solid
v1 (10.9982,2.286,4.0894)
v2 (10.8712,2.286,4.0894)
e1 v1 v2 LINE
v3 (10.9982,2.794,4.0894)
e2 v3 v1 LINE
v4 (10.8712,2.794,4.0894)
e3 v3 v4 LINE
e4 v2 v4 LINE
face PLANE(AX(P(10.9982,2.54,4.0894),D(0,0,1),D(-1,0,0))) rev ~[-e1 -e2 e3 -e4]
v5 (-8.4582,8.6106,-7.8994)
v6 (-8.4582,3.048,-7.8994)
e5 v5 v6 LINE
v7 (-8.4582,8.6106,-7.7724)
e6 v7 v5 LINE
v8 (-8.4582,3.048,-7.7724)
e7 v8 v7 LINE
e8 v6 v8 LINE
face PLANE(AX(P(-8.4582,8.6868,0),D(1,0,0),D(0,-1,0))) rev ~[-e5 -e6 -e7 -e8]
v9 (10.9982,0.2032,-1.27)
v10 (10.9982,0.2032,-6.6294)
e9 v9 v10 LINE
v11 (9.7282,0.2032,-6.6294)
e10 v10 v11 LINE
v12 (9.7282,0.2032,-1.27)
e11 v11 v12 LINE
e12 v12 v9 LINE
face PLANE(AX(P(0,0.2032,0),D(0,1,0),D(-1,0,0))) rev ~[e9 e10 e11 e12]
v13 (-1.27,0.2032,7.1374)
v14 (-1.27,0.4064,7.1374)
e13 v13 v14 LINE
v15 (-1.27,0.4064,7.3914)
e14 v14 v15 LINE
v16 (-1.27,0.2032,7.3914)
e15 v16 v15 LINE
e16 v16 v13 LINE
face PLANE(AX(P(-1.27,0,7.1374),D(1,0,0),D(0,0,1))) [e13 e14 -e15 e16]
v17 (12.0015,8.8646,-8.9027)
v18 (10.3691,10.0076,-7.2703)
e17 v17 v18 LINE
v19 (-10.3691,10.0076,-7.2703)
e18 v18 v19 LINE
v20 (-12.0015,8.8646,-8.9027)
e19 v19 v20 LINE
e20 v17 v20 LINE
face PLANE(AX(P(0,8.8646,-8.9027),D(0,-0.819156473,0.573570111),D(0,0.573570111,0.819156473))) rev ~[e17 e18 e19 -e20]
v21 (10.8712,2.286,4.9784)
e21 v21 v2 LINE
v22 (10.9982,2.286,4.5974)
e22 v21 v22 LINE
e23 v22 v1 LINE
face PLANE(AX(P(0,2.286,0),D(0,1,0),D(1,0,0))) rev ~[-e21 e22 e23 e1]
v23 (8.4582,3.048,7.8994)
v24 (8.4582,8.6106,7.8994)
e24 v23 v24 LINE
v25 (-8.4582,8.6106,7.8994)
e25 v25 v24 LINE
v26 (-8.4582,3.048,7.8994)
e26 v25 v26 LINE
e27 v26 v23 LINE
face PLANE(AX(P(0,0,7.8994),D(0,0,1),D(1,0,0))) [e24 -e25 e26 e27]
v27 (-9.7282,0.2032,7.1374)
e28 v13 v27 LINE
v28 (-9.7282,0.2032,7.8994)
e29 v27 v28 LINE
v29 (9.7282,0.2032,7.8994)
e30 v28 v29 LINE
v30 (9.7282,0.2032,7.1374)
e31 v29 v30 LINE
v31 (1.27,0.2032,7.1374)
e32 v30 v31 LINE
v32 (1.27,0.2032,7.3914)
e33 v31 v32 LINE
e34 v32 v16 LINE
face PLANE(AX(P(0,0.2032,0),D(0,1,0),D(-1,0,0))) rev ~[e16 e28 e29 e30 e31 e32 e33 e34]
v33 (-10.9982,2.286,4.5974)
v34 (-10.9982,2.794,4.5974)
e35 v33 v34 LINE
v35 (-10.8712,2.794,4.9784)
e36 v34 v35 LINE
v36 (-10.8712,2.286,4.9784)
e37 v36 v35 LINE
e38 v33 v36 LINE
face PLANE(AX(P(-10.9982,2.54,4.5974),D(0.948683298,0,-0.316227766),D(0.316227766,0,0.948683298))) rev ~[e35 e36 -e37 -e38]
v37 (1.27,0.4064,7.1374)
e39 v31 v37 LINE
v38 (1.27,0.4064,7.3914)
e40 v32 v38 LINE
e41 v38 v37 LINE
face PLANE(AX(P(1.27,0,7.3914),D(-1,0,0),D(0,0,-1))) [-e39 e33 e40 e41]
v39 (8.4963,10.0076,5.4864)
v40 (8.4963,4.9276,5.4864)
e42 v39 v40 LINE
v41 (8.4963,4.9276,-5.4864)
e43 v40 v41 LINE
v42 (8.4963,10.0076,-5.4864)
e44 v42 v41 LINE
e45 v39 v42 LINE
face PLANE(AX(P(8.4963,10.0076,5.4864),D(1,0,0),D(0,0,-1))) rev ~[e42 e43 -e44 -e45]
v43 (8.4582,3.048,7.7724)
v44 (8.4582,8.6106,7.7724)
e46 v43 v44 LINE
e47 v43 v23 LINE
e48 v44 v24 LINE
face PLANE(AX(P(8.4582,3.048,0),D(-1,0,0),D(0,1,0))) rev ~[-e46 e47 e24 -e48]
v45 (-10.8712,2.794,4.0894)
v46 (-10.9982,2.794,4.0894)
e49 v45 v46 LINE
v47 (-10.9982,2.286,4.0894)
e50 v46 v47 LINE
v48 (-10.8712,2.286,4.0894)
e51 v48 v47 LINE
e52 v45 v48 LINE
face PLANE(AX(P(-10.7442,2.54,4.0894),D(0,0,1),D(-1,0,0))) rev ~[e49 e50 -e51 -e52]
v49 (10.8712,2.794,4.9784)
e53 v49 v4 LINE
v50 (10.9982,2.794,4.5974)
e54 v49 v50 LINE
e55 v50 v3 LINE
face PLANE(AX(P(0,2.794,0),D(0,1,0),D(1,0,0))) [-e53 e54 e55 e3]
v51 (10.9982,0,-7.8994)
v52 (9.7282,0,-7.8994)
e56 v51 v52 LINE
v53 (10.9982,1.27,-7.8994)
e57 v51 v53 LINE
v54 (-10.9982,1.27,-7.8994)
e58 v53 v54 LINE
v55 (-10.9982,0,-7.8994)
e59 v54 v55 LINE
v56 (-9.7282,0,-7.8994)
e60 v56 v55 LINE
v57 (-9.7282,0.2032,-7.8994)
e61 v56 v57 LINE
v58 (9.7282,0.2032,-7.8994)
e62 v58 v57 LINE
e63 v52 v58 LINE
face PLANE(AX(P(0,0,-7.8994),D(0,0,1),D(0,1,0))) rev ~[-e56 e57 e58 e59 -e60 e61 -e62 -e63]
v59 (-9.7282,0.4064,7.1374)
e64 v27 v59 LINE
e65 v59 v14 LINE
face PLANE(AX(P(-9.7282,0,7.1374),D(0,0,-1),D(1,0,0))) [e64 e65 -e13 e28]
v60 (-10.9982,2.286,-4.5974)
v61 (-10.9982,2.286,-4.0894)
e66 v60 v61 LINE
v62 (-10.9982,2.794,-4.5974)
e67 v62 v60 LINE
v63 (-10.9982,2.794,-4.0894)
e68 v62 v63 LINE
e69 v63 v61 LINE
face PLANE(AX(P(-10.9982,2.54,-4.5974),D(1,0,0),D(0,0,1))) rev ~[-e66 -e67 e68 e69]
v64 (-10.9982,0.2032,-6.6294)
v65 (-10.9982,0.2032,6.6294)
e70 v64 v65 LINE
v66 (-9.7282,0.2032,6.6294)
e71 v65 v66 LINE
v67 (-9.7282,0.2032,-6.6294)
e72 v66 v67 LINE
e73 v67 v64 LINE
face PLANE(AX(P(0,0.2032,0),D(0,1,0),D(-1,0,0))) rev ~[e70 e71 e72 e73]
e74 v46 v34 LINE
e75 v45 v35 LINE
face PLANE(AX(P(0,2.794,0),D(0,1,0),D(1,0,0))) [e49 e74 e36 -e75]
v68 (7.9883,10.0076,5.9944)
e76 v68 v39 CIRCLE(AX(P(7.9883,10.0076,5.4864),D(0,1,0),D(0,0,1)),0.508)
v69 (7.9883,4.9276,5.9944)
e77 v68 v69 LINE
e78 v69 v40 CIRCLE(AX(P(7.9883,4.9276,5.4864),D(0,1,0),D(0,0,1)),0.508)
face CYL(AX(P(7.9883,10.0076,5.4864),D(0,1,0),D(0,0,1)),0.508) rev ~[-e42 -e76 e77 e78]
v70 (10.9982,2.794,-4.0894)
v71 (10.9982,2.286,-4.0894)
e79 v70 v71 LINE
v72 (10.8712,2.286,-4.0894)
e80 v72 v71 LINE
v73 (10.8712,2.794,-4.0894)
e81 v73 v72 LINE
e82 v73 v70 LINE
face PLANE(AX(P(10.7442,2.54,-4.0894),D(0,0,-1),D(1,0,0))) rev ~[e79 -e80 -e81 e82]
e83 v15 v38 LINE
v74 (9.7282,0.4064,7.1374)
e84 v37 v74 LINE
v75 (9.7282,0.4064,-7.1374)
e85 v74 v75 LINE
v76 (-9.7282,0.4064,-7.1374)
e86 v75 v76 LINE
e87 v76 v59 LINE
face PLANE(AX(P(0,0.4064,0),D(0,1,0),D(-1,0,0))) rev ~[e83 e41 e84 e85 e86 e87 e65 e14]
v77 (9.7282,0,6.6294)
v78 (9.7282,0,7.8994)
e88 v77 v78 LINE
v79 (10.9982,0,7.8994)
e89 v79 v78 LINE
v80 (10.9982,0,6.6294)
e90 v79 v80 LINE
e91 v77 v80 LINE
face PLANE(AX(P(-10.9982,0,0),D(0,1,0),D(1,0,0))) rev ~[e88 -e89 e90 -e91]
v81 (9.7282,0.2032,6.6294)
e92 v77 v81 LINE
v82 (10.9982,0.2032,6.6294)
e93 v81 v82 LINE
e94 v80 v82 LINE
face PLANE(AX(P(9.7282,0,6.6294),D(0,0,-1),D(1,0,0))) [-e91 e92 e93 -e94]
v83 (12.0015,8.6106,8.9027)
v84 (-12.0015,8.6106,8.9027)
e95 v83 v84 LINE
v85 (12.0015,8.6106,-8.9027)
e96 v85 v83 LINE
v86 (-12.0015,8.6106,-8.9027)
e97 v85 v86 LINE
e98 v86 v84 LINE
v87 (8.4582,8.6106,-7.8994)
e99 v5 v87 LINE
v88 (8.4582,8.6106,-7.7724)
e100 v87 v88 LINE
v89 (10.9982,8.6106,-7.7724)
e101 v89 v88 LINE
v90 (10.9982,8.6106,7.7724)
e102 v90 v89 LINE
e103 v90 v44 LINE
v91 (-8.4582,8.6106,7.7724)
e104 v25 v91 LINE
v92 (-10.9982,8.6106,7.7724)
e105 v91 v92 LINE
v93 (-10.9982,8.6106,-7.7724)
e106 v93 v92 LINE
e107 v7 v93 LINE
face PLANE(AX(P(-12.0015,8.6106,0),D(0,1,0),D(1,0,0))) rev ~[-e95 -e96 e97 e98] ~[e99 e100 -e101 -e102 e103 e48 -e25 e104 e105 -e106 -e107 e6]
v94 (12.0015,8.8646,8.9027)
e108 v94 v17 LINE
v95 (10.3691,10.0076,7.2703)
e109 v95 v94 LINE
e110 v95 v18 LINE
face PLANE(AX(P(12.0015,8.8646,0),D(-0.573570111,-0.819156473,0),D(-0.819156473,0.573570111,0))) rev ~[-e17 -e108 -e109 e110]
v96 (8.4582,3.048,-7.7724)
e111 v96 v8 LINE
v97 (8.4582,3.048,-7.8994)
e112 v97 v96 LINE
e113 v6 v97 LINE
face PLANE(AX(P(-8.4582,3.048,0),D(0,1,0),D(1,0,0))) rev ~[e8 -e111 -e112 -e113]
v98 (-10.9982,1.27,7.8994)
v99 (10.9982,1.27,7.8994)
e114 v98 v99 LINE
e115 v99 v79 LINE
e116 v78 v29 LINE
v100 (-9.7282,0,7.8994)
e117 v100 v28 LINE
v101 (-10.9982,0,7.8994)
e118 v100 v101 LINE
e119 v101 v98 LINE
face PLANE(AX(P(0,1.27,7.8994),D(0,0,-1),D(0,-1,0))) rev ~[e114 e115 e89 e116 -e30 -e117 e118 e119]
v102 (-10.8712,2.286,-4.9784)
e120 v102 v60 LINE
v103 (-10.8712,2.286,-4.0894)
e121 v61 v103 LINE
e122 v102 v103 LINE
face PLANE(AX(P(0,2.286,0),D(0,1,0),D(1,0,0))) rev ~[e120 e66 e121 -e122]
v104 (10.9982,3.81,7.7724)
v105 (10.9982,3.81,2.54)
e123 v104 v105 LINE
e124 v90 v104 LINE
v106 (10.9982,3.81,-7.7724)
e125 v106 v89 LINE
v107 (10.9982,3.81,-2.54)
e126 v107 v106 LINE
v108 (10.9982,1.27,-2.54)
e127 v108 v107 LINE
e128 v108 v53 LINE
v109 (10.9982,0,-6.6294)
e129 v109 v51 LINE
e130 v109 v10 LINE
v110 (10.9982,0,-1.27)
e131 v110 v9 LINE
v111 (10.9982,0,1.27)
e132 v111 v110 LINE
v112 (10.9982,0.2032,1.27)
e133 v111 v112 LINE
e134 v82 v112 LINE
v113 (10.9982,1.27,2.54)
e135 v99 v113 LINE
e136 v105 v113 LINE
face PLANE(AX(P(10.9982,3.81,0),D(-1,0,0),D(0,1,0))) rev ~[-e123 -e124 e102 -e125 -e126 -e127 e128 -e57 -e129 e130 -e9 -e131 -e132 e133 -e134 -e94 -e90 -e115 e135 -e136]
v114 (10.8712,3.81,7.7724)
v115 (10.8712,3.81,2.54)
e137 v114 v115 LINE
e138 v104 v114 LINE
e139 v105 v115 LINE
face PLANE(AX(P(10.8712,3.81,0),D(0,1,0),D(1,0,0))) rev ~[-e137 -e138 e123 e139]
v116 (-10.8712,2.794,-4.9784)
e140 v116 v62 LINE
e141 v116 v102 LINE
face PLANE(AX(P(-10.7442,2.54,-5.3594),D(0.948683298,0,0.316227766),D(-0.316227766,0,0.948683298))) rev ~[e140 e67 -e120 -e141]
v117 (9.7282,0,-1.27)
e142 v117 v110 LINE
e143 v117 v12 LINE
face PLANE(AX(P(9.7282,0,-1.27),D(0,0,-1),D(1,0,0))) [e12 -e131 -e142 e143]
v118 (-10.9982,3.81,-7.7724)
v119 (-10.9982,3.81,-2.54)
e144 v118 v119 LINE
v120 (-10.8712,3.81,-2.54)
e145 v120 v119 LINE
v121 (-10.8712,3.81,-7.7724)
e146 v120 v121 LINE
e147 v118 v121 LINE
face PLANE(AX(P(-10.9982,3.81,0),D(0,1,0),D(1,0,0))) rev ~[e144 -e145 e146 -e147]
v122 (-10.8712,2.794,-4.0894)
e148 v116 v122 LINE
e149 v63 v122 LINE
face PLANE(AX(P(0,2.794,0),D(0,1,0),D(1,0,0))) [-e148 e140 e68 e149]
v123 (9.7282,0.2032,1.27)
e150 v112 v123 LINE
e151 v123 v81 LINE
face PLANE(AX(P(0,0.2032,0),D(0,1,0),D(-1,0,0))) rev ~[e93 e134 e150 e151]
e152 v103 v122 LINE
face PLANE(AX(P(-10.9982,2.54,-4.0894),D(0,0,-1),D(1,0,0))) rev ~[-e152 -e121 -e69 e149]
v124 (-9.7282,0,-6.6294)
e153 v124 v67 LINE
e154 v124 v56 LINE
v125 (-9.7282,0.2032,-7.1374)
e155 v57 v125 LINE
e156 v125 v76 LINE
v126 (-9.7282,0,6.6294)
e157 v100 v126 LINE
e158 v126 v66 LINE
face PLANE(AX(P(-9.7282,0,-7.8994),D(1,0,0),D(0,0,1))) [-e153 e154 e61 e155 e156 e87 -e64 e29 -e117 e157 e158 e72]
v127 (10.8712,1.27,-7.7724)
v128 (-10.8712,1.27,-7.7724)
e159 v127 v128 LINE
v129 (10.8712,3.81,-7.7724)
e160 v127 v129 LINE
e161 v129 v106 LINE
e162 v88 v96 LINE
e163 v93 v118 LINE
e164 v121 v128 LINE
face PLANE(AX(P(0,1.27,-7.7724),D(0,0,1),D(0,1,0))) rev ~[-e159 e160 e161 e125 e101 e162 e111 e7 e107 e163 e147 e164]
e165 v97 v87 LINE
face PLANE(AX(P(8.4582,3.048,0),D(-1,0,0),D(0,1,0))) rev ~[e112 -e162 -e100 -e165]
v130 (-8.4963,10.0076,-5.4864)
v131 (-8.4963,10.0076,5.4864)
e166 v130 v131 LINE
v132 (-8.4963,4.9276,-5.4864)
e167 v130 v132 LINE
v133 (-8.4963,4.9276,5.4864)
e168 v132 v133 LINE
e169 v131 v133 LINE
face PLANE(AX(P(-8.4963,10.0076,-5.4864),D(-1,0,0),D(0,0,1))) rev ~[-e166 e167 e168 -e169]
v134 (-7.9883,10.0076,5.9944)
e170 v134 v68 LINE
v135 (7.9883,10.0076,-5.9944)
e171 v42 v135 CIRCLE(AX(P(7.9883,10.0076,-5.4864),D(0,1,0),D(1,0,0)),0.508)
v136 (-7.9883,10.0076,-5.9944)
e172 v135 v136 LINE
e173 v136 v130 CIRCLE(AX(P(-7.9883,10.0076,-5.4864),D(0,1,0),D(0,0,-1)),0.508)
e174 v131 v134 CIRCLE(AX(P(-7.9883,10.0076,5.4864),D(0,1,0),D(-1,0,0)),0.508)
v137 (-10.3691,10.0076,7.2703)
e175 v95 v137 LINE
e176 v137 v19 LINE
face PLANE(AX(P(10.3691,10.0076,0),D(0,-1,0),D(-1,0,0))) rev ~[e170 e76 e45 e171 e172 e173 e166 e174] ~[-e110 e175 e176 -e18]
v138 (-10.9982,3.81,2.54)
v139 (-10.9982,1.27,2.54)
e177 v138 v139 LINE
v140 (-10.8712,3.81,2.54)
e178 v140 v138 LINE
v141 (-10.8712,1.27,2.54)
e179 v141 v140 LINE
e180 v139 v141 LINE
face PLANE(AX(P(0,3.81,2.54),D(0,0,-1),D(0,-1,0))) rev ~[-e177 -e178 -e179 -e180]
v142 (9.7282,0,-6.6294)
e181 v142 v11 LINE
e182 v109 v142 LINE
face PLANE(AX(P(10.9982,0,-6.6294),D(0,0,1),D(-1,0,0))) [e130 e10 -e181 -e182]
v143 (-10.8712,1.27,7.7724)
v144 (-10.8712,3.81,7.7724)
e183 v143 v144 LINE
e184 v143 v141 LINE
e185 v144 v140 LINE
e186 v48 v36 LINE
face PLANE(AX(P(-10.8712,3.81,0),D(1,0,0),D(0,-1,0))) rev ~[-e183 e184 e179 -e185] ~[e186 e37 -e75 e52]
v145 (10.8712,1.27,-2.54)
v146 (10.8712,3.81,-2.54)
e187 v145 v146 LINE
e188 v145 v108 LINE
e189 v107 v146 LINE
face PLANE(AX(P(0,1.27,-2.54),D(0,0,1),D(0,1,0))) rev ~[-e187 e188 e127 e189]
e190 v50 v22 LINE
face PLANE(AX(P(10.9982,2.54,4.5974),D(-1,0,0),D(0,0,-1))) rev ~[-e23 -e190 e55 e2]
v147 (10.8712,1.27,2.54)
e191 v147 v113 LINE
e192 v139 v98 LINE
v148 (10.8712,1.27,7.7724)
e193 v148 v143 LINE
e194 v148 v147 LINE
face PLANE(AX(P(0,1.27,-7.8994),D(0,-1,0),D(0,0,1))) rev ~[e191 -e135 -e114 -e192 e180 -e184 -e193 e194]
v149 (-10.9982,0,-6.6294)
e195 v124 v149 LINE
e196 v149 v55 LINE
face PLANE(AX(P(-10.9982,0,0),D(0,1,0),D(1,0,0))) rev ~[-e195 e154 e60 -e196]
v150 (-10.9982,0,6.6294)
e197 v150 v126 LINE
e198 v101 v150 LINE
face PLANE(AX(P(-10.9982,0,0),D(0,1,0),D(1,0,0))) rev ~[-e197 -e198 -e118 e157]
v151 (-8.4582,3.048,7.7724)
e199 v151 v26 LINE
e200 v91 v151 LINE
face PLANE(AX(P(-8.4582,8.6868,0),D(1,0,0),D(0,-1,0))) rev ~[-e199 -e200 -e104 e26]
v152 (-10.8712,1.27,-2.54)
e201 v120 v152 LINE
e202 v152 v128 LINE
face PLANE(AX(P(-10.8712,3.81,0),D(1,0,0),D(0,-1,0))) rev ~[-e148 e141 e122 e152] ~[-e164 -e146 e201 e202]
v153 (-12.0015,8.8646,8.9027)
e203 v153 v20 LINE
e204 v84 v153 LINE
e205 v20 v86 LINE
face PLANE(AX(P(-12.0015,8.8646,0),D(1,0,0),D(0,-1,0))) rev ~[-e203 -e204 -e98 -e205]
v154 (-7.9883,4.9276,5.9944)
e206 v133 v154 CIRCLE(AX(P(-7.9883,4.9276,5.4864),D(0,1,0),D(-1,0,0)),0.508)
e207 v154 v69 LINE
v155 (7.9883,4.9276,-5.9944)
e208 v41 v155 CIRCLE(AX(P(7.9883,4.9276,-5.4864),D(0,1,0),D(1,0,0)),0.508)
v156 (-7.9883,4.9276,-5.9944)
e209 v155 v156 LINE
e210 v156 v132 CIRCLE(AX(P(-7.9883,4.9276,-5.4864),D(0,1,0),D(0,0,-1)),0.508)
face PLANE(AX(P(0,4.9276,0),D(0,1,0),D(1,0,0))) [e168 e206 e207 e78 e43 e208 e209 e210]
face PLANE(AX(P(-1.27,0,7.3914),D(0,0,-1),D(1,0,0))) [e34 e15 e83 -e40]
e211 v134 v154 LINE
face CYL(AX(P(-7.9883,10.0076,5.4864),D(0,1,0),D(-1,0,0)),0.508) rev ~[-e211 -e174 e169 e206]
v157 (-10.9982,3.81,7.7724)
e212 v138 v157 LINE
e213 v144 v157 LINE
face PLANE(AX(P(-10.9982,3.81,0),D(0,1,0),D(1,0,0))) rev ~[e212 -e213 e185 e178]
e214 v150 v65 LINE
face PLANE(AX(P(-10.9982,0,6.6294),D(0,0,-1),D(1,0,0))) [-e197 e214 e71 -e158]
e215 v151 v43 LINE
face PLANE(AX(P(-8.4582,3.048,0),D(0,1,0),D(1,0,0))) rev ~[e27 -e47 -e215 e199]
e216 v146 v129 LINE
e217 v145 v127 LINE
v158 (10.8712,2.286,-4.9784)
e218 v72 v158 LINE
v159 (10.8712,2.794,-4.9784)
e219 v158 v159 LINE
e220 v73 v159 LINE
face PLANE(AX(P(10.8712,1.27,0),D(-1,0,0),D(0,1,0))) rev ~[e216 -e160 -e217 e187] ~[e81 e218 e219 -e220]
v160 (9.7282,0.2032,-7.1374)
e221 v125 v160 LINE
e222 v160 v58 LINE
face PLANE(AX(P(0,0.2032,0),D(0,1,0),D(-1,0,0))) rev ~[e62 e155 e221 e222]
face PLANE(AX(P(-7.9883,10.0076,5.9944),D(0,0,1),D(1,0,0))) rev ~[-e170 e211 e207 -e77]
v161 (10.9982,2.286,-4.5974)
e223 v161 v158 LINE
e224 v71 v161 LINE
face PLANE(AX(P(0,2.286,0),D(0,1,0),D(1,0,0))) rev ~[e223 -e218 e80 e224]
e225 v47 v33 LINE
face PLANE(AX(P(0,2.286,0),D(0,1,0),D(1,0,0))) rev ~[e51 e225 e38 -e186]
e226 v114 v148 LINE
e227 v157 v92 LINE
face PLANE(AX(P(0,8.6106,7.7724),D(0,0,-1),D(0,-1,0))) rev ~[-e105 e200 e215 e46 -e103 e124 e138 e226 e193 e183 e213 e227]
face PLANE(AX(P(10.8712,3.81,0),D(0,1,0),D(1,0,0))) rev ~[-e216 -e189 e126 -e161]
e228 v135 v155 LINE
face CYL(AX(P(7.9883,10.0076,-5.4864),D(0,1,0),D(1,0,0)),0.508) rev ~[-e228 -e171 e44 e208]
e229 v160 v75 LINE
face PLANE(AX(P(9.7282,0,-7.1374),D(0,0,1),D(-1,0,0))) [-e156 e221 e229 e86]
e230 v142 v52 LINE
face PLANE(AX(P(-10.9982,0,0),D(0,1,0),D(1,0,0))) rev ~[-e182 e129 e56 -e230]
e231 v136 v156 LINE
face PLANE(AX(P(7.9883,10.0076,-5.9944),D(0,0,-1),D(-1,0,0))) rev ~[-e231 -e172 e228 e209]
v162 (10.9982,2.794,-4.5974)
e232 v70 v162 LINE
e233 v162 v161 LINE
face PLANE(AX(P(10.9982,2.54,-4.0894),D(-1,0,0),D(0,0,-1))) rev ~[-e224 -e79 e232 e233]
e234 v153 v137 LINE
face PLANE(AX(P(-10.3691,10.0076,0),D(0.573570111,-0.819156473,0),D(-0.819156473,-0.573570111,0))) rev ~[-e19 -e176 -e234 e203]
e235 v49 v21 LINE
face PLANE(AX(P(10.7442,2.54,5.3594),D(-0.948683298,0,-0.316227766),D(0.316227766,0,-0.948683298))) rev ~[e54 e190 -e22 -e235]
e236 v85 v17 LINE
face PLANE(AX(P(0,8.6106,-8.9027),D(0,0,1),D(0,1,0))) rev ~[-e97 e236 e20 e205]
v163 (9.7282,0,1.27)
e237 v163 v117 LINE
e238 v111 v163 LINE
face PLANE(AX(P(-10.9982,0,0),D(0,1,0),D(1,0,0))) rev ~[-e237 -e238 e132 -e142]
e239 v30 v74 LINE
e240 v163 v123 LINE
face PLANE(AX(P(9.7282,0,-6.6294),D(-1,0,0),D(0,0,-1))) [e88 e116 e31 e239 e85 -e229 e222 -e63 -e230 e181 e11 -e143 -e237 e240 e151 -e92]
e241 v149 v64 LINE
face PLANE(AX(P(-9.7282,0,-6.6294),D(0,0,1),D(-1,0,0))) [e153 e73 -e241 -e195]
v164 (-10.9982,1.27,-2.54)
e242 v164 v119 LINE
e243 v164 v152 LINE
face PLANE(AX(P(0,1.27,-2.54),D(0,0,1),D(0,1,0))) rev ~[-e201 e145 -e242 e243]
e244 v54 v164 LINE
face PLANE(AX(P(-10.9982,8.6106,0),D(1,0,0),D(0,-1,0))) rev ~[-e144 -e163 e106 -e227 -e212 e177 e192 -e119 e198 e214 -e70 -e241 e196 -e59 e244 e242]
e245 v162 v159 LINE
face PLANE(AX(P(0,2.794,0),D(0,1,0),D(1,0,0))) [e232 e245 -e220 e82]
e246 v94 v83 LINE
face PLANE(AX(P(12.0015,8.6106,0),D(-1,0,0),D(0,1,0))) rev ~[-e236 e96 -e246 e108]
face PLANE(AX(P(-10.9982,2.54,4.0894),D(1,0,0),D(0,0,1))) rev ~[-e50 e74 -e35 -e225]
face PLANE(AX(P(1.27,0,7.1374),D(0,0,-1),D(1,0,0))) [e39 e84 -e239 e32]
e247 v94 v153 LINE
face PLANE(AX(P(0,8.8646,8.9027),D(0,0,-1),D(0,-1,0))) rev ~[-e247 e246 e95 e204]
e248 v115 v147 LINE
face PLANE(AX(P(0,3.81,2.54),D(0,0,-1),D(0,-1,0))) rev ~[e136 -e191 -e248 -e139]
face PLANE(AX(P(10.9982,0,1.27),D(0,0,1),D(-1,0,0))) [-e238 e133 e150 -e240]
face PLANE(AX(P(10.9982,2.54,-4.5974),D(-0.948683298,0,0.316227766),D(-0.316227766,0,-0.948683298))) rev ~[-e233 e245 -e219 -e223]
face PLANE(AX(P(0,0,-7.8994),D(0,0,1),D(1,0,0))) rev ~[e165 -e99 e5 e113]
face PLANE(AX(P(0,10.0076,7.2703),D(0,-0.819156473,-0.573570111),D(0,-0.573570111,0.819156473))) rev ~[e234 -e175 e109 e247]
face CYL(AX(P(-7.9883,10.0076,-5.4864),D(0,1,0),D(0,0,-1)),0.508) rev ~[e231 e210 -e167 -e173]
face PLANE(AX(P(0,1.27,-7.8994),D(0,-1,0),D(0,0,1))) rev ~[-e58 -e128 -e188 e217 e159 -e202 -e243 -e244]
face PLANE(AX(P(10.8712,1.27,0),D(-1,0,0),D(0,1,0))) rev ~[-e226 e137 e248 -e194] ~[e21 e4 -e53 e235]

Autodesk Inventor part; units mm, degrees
sketch "Sketch_2" plane through (0, 0, 0) normal (0, 0, 1) x (1, 0, 0)
  line L0 (-12.0015, 8.6106) -> (-10.9982, 8.6106)
  line L1 (-10.9982, 8.6106) -> (-10.9982, 3.81)
  line L2 (-10.9982, 3.81) -> (-10.8712, 3.81)
  line L3 (-10.8712, 3.81) -> (-10.8712, 1.27)
  line L4 (-10.8712, 1.27) -> (-10.9982, 1.27)
  line L5 (-10.9982, 1.27) -> (-10.9982, 0)
  line L6 (-10.9982, 0) -> (10.9982, 0)
  line L7 (10.9982, 0) -> (10.9982, 1.27)
  line L8 (10.9982, 1.27) -> (10.8712, 1.27)
  line L9 (10.8712, 1.27) -> (10.8712, 3.81)
  line L10 (10.8712, 3.81) -> (10.9982, 3.81)
  line L11 (10.9982, 3.81) -> (10.9982, 8.6106)
  line L12 (10.9982, 8.6106) -> (12.0015, 8.6106)
  line L13 (12.0015, 8.6106) -> (12.0015, 8.8646)
  line L14 (12.0015, 8.8646) -> (10.3691, 10.0076)
  line L15 (10.3691, 10.0076) -> (-10.3691, 10.0076)
  line L16 (-10.3691, 10.0076) -> (-12.0015, 8.8646)
  line L17 (-12.0015, 8.8646) -> (-12.0015, 8.6106)
extrude "Extrusion1" add sketch "Sketch_2" along normal mid plane 24.003
sketch "Sketch_1" plane through (0, 0, 0) normal (1, 0, 0) x (0, 1, 0)
  line L0 (12.7, 12.7) -> (-2.54, 12.7)
  line L1 (-2.54, 12.7) -> (-2.54, -12.7)
  line L2 (-2.54, -12.7) -> (12.7, -12.7)
  line L3 (12.7, -12.7) -> (12.7, 12.7)
  line L4 (8.6106, 8.9027) -> (8.6106, 7.7724)
  line L5 (8.6106, 7.7724) -> (1.27, 7.7724)
  line L6 (1.27, 7.7724) -> (1.27, 7.8994)
  line L7 (1.27, 7.8994) -> (0, 7.8994)
  line L8 (0, 7.8994) -> (0, -7.8994)
  line L9 (0, -7.8994) -> (1.27, -7.8994)
  line L10 (1.27, -7.8994) -> (1.27, -7.7724)
  line L11 (1.27, -7.7724) -> (8.6106, -7.7724)
  line L12 (8.6106, -7.7724) -> (8.6106, -8.9027)
  line L13 (8.6106, -8.9027) -> (8.8646, -8.9027)
  line L14 (8.8646, -8.9027) -> (10.0076, -7.2703)
  line L15 (10.0076, -7.2703) -> (10.0076, 7.2703)
  line L16 (10.0076, 7.2703) -> (8.8646, 8.9027)
  line L17 (8.8646, 8.9027) -> (8.6106, 8.9027)
extrude "Extrusion2" cut sketch "Sketch_1" along normal mid plane 25.4
sketch "Sketch_3" plane through (0, 10.0076, 0) normal (0, 1, 0) x (1, 0, 0)
  line L0 (-8.4963, 5.4864) -> (-8.4963, -5.4864)
  arc A0 (-8.4963, -5.4864) -> (-7.9883, -5.9944) centre (-7.9883, -5.4864) ccw
  line L1 (-7.9883, -5.9944) -> (7.9883, -5.9944)
  arc A1 (7.9883, -5.9944) -> (8.4963, -5.4864) centre (7.9883, -5.4864) ccw
  line L2 (8.4963, -5.4864) -> (8.4963, 5.4864)
  arc A2 (8.4963, 5.4864) -> (7.9883, 5.9944) centre (7.9883, 5.4864) ccw
  line L3 (7.9883, 5.9944) -> (-7.9883, 5.9944)
  arc A3 (-7.9883, 5.9944) -> (-8.4963, 5.4864) centre (-7.9883, 5.4864) ccw
sketch "Sketch_4" plane through (0, 0, 0) normal (0, 1, 0) x (-1, 0, 0)
  line L0 (10.9982, -6.6294) -> (10.9982, 6.6294)
  line L1 (10.9982, 6.6294) -> (9.7282, 6.6294)
  line L2 (9.7282, 6.6294) -> (9.7282, 7.8994)
  line L3 (9.7282, 7.8994) -> (-9.7282, 7.8994)
  line L4 (-9.7282, 7.8994) -> (-9.7282, 6.6294)
  line L5 (-9.7282, 6.6294) -> (-10.9982, 6.6294)
  line L6 (-10.9982, 6.6294) -> (-10.9982, 1.27)
  line L7 (-10.9982, 1.27) -> (-9.7282, 1.27)
  line L8 (-9.7282, 1.27) -> (-9.7282, -1.27)
  line L9 (-9.7282, -1.27) -> (-10.9982, -1.27)
  line L10 (-10.9982, -1.27) -> (-10.9982, -6.6294)
  line L11 (-10.9982, -6.6294) -> (-9.7282, -6.6294)
  line L12 (-9.7282, -6.6294) -> (-9.7282, -7.8994)
  line L13 (-9.7282, -7.8994) -> (9.7282, -7.8994)
  line L14 (9.7282, -7.8994) -> (9.7282, -6.6294)
  line L15 (9.7282, -6.6294) -> (10.9982, -6.6294)
extrude "Extrusion3" cut sketch "Sketch_4" along normal blind 0.2032
sketch "Sketch_6" plane through (0, 0, 0) normal (0, 1, 0) x (-1, 0, 0)
  line L0 (9.7282, 7.1374) -> (1.27, 7.1374)
  line L1 (1.27, 7.1374) -> (1.27, 7.3914)
  line L2 (1.27, 7.3914) -> (-1.27, 7.3914)
  line L3 (-1.27, 7.3914) -> (-1.27, 7.1374)
  line L4 (-1.27, 7.1374) -> (-9.7282, 7.1374)
  line L5 (-9.7282, 7.1374) -> (-9.7282, -7.1374)
  line L6 (-9.7282, -7.1374) -> (9.7282, -7.1374)
  line L7 (9.7282, -7.1374) -> (9.7282, 7.1374)
extrude "Extrusion4" cut sketch "Sketch_6" along normal blind 0.4064
sketch "Sketch_9" plane through (0, 0, 0) normal (1, 0, 0) x (0, 1, 0)
  line L0 (1.27, 2.54) -> (1.27, -2.54)
  line L1 (1.27, -2.54) -> (3.81, -2.54)
  line L2 (3.81, -2.54) -> (3.81, 2.54)
  line L3 (3.81, 2.54) -> (1.27, 2.54)
extrude "Extrusion5" add sketch "Sketch_9" along normal mid plane 21.9964
sketch "Sketch_8" plane through (0, 2.54, 0) normal (0, 1, 0) x (1, 0, 0)
  line L0 (-10.9982, -4.5974) -> (-10.7442, -5.3594)
  line L1 (-10.7442, -5.3594) -> (-10.7442, -6.6294)
  line L2 (-10.7442, -6.6294) -> (10.7442, -6.6294)
  line L3 (10.7442, -6.6294) -> (10.7442, -5.3594)
  line L4 (10.7442, -5.3594) -> (10.9982, -4.5974)
  line L5 (10.9982, -4.5974) -> (10.9982, -4.0894)
  line L6 (10.9982, -4.0894) -> (10.7442, -4.0894)
  line L7 (10.7442, -4.0894) -> (10.7442, 4.0894)
  line L8 (10.7442, 4.0894) -> (10.9982, 4.0894)
  line L9 (10.9982, 4.0894) -> (10.9982, 4.5974)
  line L10 (10.9982, 4.5974) -> (10.7442, 5.3594)
  line L11 (10.7442, 5.3594) -> (10.7442, 6.6294)
  line L12 (10.7442, 6.6294) -> (-10.7442, 6.6294)
  line L13 (-10.7442, 6.6294) -> (-10.7442, 5.3594)
  line L14 (-10.7442, 5.3594) -> (-10.9982, 4.5974)
  line L15 (-10.9982, 4.5974) -> (-10.9982, 4.0894)
  line L16 (-10.9982, 4.0894) -> (-10.7442, 4.0894)
  line L17 (-10.7442, 4.0894) -> (-10.7442, -4.0894)
  line L18 (-10.7442, -4.0894) -> (-10.9982, -4.0894)
  line L19 (-10.9982, -4.0894) -> (-10.9982, -4.5974)
extrude "Extrusion6" add sketch "Sketch_8" along normal mid plane 0.508
sketch "Sketch_19" plane through (0, 0, 0) normal (0, 0, 1) x (1, 0, 0)
  line L0 (-8.4582, 3.048) -> (8.4582, 3.048)
  line L1 (8.4582, 3.048) -> (8.4582, 8.6868)
  line L2 (8.4582, 8.6868) -> (-8.4582, 8.6868)
  line L3 (-8.4582, 8.6868) -> (-8.4582, 3.048)
extrude "Extrusion7" add sketch "Sketch_19" along normal mid plane 15.7988
extrude "Extrusion8" cut sketch "Sketch_3" against normal blind 5.08
ref_plane "D_XY" through (0, 0, 0) normal (0, 1, 0) x (1, 0, 0)
ref_plane "D_YZ" through (0, 0, 0) normal (1, 0, 0) x (0, 0, -1)
ref_plane "D_ZX" through (0, 0, 0) normal (0, 0, -1) x (0, 1, 0)
ref_plane "LENS_XY" through (0, 10.0076, 0) normal (0, -1, 0) x (1, 0, 0)
ref_plane "LENS_YZ" through (0, 10.0076, 0) normal (1, 0, 0) x (0, 0, 1)
ref_plane "LENS_ZX" through (0, 10.0076, 0) normal (0, 0, 1) x (0, -1, 0)
ref_plane "P_1_XY" through (7.62, 0.4064, 5.08) normal (0, 1, 0) x (1, 0, 0)
ref_plane "P_1_YZ" through (7.62, 0.4064, 5.08) normal (1, 0, 0) x (0, 0, -1)
ref_plane "P_1_ZX" through (7.62, 0.4064, 5.08) normal (0, 0, -1) x (0, 1, 0)
ref_plane "P_2_XY" through (7.62, 0.4064, 0) normal (0, 1, 0) x (1, 0, 0)
ref_plane "P_2_YZ" through (7.62, 0.4064, 0) normal (1, 0, 0) x (0, 0, -1)
ref_plane "P_2_ZX" through (7.62, 0.4064, 0) normal (0, 0, -1) x (0, 1, 0)
ref_plane "P_3_XY" through (7.62, 0.4064, -5.08) normal (0, 1, 0) x (1, 0, 0)
ref_plane "P_3_YZ" through (7.62, 0.4064, -5.08) normal (1, 0, 0) x (0, 0, -1)
ref_plane "P_3_ZX" through (7.62, 0.4064, -5.08) normal (0, 0, -1) x (0, 1, 0)
ref_plane "P_4_XY" through (0, 0.4064, 2.54) normal (0, 1, 0) x (1, 0, 0)
ref_plane "P_4_YZ" through (0, 0.4064, 2.54) normal (1, 0, 0) x (0, 0, -1)
ref_plane "P_4_ZX" through (0, 0.4064, 2.54) normal (0, 0, -1) x (0, 1, 0)
ref_plane "P_5_XY" through (0, 0.4064, -2.54) normal (0, 1, 0) x (1, 0, 0)
ref_plane "P_5_YZ" through (0, 0.4064, -2.54) normal (1, 0, 0) x (0, 0, -1)
ref_plane "P_5_ZX" through (0, 0.4064, -2.54) normal (0, 0, -1) x (0, 1, 0)
ref_plane "body_to_metal_1_XY" through (0, 0, 0) normal (0, -1, 0) x (1, 0, 0)
ref_plane "body_to_metal_1_YZ" through (0, 0, 0) normal (1, 0, 0) x (0, 0, 1)
ref_plane "body_to_metal_1_ZX" through (0, 0, 0) normal (0, 0, 1) x (0, -1, 0)
ref_plane "body_to_metal_2_XY" through (0, 0, 0) normal (0, -1, 0) x (1, 0, 0)
ref_plane "body_to_metal_2_YZ" through (0, 0, 0) normal (1, 0, 0) x (0, 0, 1)
ref_plane "body_to_metal_2_ZX" through (0, 0, 0) normal (0, 0, 1) x (0, -1, 0)
properties part number "UB16NKG015F-NR"
